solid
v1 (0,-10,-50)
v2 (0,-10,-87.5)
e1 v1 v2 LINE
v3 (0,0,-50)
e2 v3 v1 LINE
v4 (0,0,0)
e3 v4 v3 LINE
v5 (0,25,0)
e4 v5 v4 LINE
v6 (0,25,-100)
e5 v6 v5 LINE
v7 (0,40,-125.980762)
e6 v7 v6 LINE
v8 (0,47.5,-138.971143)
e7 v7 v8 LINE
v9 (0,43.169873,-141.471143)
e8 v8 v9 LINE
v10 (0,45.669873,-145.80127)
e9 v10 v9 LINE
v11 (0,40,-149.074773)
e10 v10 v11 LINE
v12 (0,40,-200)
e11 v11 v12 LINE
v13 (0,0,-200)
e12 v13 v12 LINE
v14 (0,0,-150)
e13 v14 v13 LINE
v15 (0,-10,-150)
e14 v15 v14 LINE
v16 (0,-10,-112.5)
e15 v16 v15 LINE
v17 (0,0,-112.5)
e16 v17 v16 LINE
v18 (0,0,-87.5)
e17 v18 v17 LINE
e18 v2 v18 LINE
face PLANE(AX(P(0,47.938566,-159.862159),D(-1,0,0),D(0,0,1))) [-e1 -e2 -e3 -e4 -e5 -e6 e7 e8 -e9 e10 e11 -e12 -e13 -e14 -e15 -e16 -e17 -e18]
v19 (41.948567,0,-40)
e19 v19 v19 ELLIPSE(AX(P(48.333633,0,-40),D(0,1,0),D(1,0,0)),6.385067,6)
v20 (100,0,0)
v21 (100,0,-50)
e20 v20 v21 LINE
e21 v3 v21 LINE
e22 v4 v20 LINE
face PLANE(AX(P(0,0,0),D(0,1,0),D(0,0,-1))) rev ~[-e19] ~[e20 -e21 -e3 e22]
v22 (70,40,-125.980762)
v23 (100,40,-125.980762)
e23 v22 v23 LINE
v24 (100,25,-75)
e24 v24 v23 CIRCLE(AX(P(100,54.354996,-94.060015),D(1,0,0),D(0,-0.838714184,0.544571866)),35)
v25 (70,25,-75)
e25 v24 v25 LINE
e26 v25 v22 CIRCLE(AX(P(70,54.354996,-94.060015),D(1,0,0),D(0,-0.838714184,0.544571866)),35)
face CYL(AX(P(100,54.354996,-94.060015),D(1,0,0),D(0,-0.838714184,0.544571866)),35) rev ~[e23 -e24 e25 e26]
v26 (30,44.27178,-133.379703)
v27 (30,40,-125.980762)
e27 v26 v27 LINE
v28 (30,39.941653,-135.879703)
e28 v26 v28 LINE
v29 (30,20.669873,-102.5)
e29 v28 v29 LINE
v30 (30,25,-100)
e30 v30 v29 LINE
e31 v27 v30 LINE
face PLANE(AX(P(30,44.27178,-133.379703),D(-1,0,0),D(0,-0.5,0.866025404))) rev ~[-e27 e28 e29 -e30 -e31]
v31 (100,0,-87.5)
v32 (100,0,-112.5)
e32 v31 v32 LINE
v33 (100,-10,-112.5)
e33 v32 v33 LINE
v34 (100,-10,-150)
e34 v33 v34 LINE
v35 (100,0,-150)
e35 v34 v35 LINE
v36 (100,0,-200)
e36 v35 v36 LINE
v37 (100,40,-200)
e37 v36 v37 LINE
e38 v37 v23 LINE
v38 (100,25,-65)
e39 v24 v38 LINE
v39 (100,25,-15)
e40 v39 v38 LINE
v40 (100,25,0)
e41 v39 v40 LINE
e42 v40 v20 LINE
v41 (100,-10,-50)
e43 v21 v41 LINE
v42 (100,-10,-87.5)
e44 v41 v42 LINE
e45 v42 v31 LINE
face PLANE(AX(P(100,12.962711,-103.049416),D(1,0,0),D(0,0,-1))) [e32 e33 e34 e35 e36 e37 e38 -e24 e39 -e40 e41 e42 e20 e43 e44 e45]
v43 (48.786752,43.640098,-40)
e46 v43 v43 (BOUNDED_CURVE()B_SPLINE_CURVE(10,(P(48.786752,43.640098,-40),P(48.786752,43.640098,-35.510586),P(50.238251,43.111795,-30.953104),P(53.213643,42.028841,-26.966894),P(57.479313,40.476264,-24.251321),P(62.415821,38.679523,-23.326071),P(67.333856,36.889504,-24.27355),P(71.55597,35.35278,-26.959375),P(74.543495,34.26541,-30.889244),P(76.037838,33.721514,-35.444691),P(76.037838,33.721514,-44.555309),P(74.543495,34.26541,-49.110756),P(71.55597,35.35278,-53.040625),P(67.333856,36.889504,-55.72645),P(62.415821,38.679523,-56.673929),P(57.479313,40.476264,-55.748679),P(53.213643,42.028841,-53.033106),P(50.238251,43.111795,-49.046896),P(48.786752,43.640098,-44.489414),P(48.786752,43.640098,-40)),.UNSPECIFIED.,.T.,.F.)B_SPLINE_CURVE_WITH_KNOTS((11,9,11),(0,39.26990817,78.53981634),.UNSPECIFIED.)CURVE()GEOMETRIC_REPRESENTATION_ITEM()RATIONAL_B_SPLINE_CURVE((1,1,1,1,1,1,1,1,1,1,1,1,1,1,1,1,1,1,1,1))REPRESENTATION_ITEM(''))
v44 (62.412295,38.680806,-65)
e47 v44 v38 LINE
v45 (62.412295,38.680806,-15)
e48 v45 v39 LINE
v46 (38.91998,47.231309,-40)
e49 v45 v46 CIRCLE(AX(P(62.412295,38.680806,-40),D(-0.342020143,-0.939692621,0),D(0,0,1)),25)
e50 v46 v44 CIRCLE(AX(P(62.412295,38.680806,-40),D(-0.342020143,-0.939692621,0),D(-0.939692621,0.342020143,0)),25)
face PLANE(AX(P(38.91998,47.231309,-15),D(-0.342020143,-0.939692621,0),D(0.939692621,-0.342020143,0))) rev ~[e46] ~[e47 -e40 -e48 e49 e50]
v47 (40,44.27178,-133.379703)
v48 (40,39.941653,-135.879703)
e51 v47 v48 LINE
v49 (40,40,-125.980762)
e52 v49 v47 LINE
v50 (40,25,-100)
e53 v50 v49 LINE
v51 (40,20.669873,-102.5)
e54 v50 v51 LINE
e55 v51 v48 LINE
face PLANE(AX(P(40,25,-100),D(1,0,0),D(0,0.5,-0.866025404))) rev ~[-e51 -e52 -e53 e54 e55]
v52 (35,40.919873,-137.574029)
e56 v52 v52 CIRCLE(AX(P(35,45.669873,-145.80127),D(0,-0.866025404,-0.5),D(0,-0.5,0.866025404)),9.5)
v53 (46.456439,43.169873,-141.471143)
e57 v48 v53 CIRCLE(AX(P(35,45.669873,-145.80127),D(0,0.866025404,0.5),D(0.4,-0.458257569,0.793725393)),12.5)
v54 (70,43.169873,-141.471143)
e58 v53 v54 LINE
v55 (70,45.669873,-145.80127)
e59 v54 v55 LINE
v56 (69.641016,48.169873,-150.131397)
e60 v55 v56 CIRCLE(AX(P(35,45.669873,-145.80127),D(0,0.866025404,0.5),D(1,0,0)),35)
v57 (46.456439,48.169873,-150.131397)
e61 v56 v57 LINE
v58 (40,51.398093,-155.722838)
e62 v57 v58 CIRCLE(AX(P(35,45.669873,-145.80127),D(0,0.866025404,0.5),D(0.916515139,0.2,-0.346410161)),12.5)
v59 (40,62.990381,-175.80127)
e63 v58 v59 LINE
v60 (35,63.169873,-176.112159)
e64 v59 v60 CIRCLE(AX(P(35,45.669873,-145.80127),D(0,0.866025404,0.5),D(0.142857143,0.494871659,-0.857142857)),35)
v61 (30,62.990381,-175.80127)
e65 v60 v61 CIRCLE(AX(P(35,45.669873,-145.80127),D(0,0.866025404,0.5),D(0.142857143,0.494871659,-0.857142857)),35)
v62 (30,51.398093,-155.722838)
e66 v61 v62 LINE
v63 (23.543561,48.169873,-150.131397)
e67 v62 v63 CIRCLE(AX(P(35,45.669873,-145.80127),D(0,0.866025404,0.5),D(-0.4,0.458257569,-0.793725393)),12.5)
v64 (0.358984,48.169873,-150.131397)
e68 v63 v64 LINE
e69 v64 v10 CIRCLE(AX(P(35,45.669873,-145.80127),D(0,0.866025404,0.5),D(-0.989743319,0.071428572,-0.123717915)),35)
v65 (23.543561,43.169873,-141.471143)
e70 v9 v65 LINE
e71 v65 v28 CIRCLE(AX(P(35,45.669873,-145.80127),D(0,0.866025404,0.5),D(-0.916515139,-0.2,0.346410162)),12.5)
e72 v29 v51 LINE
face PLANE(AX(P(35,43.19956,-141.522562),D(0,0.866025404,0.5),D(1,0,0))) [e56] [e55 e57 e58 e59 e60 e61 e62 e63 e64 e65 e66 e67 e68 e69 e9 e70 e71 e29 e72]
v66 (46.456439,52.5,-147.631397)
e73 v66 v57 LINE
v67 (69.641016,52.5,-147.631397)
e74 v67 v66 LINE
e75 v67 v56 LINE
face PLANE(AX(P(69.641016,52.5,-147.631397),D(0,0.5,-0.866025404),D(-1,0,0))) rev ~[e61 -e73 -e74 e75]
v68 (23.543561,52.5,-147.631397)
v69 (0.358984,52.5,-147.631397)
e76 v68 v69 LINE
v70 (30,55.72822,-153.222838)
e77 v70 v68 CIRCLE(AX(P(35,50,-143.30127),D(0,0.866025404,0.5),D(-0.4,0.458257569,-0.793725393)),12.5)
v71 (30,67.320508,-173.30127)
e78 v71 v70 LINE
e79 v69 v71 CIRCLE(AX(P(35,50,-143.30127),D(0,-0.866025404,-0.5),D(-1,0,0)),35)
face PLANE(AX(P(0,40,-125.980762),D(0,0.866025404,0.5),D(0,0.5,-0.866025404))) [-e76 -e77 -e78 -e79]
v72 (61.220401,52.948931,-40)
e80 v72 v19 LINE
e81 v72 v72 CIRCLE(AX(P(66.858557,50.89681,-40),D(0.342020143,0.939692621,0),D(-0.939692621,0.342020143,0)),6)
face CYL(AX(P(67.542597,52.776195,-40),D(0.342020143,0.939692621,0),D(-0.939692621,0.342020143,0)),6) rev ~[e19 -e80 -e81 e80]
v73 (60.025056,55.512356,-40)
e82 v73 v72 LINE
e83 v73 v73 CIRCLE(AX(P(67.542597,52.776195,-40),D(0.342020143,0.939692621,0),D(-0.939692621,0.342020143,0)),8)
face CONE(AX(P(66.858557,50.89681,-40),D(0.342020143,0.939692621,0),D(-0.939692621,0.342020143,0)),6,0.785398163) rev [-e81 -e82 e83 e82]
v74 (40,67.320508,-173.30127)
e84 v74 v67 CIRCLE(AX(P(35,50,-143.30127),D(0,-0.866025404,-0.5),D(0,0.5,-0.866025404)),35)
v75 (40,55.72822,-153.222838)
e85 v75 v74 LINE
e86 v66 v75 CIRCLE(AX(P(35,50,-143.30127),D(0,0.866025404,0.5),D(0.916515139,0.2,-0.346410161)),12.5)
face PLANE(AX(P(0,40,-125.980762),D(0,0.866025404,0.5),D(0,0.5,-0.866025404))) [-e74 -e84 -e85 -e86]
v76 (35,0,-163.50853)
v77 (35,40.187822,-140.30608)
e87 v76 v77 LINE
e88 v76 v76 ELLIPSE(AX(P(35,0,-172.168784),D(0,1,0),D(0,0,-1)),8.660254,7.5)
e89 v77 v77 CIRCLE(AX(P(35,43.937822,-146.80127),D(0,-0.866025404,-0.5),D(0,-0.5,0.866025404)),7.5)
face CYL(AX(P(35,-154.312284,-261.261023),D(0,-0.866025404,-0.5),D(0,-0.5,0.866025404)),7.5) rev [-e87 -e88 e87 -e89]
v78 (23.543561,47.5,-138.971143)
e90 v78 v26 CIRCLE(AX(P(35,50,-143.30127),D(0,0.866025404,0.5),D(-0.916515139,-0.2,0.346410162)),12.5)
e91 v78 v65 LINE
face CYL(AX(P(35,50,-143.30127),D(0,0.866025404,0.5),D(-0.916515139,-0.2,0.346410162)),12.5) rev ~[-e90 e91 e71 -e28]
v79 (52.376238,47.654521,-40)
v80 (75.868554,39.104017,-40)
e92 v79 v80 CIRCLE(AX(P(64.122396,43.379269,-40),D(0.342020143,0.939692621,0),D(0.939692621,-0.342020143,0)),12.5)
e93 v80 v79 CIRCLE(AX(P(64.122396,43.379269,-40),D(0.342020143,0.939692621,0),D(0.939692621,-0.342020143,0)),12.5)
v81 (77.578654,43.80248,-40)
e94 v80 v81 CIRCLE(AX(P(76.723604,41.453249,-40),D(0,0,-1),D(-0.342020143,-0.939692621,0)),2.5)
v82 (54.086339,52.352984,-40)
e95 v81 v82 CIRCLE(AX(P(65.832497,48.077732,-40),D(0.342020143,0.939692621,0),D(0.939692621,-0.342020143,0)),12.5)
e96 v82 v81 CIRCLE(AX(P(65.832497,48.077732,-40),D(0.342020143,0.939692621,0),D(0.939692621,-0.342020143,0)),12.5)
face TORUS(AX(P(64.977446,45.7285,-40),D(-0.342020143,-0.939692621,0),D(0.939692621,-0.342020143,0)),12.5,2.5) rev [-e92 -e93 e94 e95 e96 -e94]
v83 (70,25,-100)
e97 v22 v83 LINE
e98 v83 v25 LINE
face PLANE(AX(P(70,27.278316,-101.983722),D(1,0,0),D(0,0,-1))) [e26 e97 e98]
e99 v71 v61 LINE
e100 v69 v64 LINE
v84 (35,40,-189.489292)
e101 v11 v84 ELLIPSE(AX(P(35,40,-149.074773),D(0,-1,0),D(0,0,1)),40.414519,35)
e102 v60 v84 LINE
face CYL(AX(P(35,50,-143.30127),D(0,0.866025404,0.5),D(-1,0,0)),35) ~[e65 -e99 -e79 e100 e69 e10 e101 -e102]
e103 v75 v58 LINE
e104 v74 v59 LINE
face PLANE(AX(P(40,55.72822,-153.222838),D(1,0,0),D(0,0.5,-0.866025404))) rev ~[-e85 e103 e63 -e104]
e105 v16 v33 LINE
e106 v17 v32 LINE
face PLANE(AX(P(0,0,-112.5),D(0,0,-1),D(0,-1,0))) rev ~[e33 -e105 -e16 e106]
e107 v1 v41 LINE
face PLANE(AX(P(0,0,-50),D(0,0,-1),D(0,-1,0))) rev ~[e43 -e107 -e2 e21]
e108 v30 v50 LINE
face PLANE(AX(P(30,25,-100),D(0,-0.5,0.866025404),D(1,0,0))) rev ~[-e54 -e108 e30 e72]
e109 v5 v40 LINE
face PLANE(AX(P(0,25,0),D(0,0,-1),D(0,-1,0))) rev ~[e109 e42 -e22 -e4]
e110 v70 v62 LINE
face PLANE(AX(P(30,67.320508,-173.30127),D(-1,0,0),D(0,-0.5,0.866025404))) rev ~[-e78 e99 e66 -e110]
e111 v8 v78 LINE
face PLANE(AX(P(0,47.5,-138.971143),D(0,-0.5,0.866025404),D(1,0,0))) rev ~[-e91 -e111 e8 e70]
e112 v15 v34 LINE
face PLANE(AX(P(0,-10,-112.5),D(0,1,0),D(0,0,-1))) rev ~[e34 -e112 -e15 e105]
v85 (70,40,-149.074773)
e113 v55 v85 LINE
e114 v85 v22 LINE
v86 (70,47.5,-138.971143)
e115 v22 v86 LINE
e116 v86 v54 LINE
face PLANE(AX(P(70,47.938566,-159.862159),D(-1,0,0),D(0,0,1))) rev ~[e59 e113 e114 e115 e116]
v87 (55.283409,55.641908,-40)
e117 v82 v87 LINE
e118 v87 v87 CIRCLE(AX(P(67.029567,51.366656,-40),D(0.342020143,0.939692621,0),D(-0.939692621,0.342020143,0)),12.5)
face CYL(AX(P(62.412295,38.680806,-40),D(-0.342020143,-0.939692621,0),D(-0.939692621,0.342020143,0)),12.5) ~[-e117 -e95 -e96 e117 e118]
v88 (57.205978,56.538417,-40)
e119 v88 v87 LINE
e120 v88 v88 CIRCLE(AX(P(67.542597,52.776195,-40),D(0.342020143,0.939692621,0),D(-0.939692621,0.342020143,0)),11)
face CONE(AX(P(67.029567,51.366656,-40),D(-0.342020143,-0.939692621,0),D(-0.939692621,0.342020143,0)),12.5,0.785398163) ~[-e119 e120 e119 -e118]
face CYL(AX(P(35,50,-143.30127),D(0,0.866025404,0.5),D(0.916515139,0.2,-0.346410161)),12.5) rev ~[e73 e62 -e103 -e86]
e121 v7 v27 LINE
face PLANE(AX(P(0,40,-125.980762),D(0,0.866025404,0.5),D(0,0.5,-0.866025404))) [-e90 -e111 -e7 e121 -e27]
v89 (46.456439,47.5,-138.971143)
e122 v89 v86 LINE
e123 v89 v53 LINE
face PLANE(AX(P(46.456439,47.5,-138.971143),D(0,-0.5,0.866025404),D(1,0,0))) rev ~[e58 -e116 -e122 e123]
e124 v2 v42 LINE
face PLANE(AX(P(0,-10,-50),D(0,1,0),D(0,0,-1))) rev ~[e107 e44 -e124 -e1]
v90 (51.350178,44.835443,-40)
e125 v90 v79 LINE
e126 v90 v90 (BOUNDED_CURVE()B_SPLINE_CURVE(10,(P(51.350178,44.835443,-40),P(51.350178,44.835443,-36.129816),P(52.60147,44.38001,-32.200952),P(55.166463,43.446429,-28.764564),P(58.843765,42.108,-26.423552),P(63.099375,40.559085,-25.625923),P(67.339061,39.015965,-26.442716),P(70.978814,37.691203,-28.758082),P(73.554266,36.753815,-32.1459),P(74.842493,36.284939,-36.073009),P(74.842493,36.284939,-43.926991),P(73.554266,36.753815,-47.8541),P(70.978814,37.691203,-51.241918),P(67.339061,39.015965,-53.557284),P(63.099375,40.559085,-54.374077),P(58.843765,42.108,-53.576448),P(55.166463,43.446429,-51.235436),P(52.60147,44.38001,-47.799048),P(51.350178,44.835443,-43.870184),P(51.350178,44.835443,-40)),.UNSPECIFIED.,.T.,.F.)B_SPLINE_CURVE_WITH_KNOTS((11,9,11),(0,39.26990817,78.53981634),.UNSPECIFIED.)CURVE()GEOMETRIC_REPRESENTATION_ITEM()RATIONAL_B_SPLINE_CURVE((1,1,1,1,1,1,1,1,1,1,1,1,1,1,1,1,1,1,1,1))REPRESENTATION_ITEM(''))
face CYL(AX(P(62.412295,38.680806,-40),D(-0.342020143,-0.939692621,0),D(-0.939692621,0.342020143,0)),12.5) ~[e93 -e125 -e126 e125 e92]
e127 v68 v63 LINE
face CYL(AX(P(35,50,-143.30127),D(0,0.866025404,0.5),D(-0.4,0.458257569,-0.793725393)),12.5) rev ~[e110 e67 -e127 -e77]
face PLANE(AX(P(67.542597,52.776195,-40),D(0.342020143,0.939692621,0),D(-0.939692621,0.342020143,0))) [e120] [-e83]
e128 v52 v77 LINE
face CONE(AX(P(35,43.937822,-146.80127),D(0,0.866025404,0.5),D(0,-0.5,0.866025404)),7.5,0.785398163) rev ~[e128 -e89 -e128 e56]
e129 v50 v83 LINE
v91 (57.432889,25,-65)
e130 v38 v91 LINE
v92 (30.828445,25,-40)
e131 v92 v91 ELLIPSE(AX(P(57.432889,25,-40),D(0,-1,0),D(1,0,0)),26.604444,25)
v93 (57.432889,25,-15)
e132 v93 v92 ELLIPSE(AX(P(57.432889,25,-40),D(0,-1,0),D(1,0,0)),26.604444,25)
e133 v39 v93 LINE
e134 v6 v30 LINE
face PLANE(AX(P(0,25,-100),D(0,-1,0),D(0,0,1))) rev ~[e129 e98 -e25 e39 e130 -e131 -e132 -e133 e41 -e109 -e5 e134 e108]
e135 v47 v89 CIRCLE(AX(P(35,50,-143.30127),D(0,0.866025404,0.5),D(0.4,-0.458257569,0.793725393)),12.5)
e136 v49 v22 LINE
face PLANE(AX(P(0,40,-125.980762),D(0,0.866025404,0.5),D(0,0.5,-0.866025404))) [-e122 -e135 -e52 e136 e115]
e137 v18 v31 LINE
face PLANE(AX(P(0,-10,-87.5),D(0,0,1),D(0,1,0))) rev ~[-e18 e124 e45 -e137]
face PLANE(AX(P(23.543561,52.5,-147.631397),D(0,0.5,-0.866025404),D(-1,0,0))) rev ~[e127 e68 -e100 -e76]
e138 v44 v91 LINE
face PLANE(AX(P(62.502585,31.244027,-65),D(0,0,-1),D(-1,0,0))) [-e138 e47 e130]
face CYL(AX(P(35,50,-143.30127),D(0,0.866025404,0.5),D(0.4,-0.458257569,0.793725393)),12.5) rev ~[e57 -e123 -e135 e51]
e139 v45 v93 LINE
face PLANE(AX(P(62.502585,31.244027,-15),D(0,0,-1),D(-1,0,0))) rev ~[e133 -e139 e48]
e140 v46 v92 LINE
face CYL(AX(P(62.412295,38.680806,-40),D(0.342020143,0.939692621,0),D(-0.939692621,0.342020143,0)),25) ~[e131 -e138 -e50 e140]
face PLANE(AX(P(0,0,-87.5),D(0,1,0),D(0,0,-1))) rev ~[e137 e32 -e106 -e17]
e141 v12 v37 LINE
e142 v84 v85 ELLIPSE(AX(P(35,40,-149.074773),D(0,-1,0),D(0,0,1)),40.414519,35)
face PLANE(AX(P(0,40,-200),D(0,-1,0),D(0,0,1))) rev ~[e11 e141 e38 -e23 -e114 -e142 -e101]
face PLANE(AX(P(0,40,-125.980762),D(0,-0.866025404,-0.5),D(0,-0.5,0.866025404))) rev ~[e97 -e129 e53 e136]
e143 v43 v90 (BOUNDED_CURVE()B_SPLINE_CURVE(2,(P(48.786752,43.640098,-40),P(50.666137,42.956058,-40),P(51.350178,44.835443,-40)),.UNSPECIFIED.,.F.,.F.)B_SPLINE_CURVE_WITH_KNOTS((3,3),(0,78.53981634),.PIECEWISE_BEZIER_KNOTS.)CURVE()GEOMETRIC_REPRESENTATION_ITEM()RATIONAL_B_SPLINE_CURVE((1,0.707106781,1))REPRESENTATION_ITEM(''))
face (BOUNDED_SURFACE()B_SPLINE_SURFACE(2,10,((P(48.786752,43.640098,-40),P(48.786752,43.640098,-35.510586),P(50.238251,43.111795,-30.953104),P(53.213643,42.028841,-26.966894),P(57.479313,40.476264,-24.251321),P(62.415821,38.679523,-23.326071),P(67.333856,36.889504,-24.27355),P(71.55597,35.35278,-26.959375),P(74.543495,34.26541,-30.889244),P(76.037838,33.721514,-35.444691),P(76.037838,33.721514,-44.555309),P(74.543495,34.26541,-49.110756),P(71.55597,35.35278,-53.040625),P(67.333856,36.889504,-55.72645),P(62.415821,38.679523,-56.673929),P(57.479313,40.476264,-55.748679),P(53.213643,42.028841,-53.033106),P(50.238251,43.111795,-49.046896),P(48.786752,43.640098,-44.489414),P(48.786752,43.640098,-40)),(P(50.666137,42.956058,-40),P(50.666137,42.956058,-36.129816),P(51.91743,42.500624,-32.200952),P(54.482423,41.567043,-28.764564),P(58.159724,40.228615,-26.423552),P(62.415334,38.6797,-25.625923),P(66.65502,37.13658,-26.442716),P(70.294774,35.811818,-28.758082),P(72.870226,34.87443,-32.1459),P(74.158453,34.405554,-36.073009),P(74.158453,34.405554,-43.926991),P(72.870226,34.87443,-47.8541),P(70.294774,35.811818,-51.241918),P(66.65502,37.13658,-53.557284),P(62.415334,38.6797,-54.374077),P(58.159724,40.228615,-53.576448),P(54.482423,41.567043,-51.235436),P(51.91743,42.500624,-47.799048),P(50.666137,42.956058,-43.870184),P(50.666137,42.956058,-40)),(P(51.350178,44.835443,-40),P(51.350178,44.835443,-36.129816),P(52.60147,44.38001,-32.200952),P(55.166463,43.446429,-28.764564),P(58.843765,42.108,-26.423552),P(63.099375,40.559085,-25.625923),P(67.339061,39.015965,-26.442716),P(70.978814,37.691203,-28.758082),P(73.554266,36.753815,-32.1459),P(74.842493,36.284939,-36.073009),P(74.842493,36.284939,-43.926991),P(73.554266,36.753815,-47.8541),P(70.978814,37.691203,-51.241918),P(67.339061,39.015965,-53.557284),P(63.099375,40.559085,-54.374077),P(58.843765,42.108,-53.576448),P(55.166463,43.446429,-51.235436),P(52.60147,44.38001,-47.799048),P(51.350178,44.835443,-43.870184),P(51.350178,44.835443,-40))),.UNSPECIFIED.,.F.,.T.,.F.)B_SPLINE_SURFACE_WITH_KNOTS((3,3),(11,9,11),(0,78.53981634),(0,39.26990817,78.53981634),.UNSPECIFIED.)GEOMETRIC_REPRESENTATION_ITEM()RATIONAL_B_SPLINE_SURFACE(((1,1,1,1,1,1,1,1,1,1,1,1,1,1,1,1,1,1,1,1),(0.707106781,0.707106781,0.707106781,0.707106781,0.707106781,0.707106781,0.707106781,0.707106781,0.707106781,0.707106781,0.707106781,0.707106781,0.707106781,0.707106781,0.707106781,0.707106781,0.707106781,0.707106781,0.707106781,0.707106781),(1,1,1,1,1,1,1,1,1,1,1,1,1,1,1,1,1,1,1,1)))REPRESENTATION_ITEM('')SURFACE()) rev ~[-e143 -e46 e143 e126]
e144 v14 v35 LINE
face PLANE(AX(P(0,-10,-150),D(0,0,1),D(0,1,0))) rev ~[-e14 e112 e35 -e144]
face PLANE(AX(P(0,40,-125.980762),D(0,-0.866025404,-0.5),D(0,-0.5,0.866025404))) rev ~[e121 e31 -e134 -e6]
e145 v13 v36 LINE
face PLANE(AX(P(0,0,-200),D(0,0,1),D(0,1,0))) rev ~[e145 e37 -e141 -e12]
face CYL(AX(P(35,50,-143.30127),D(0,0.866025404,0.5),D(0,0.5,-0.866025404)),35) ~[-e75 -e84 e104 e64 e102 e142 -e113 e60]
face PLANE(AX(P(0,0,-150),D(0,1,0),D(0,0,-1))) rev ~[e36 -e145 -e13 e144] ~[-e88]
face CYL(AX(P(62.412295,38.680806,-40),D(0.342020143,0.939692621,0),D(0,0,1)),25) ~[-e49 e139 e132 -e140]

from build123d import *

# Parameters (mm, degrees)
BOSS_EXTRUDE1_DEPTH     = 100
CUT_EXTRUDE1_DEPTH      = 30
BOSS_EXTRUDE2_START     = -15
BOSS_EXTRUDE2_DEPTH     = 50
CUT_EXTRUDE2_REACH      = 226.87
SKETCH5_R               = 12.5
BOSS_EXTRUDE4_DEPTH     = 15
SKETCH7_R               = 6
CUT_EXTRUDE4_DEPTH      = 228.547988513
FILLET1_R               = 2
CHAMFER1_SIZE           = 2
CHAMFER2_SIZE           = 1.5
BOSS_EXTRUDE5_DEPTH     = 70
CUT_EXTRUDE5_REACH      = 232.227
CUT_EXTRUDE6_DEPTH      = 5
CUT_EXTRUDE7_DEPTH      = 230.919504684
CUT_EXTRUDE7_DEPTH_BACK = 230.919504684
SKETCH17_R              = 7.5
CHAMFER3_SIZE           = 2


with BuildPart() as part:
    # Sketch1 → Boss-Extrude1 (new body)
    with BuildSketch(Plane(origin=(0, 0, 0), x_dir=(0, 0, -1), z_dir=(1, 0, 0))):
        Polygon((0, 0), (50, 0), (50, -10), (87.5, -10), (87.5, 0), (112.5, 0), (112.5, -10), (150, -10), (150, 0), (200, 0), (200, 40), (125.980762114, 40), (100, 25), (0, 25), align=None)
    extrude(amount=BOSS_EXTRUDE1_DEPTH)

    # Sketch2 → Cut-Extrude1 (cut)
    with BuildSketch(Plane(origin=(100, 0, 0), x_dir=(0, 0, -1), z_dir=(1, 0, 0))):
        with BuildLine():
            Line((100, 25), (75, 25))
            ThreePointArc((75, 25), (103.939266476, 20.77821286), (125.980762114, 40))
            Line((125.980762114, 40), (100, 25))
        make_face()
    extrude(amount=-CUT_EXTRUDE1_DEPTH, mode=Mode.SUBTRACT)

    # Sketch3 → Boss-Extrude2 (add)
    with BuildSketch(Plane.XY.offset(BOSS_EXTRUDE2_START)):
        Polygon((100, 25), (30.828444789, 25), (38.919979649, 47.231309316), align=None)
    extrude(amount=-BOSS_EXTRUDE2_DEPTH)

    # Cut-Extrude2: up to this plane
    cut_extrude2_end = Plane(origin=(100, 25, 0), z_dir=(0, -1, 0))
    # Sketch4 → Cut-Extrude2 (cut, up to the surface)
    with BuildSketch(Plane(origin=(19.732622965, 54.214936023, 0), x_dir=(0.9396926207859106, -0.3420201433256628, 0), z_dir=(0.34202014332566283, 0.9396926207859106, 0)), mode=Mode.PRIVATE) as cut_extrude2_sk1:
        with BuildLine():
            ThreePointArc((20.418758495, 40), (27.741088966, 57.67766953), (45.418758495, 65))
            Line((45.418758495, 65), (20.418758495, 65))
            Line((20.418758495, 65), (20.418758495, 40))
        make_face()
    cut_extrude2_tool1 = split(extrude(cut_extrude2_sk1.sketch, amount=-CUT_EXTRUDE2_REACH, mode=Mode.PRIVATE), bisect_by=cut_extrude2_end, keep=Keep.BOTH, mode=Mode.PRIVATE)
    add(cut_extrude2_tool1.solids().sort_by_distance((44.16741, 45.321401, -59.415802))[0], mode=Mode.SUBTRACT)
    # Sketch4 → Cut-Extrude2 (cut, up to the surface)
    with BuildSketch(Plane(origin=(19.732622965, 54.214936023, 0), x_dir=(0.9396926207859106, -0.3420201433256628, 0), z_dir=(0.34202014332566283, 0.9396926207859106, 0)), mode=Mode.PRIVATE) as cut_extrude2_sk2:
        with BuildLine():
            ThreePointArc((45.418758495, 15), (27.741088966, 22.32233047), (20.418758495, 40))
            Line((20.418758495, 40), (20.418758495, 15))
            Line((20.418758495, 15), (45.418758495, 15))
        make_face()
    cut_extrude2_tool2 = split(extrude(cut_extrude2_sk2.sketch, amount=-CUT_EXTRUDE2_REACH, mode=Mode.PRIVATE), bisect_by=cut_extrude2_end, keep=Keep.BOTH, mode=Mode.PRIVATE)
    add(cut_extrude2_tool2.solids().sort_by_distance((44.16741, 45.321401, -20.584198))[0], mode=Mode.SUBTRACT)

    # Sketch5 → Boss-Extrude4 (add)
    with BuildSketch(Plane(origin=(19.732622965, 54.214936023, 0), x_dir=(0.9396926207859106, -0.3420201433256628, 0), z_dir=(0.34202014332566283, 0.9396926207859106, 0))):
        with Locations(Location((45.418758495, 40, 0), (0, 0, 180))):
            Circle(SKETCH5_R)
    extrude(amount=BOSS_EXTRUDE4_DEPTH)

    # Sketch7 → Cut-Extrude4 (cut, through all)
    with BuildSketch(Plane(origin=(24.862925115, 68.310325335, 0), x_dir=(0.9396926207859105, -0.3420201433256629, 0), z_dir=(0.34202014332566294, 0.9396926207859106, 0))):
        with Locations(Location((45.418758495, 40, 0), (0, 0, 180))):
            Circle(SKETCH7_R)
    extrude(amount=-CUT_EXTRUDE4_DEPTH, mode=Mode.SUBTRACT)

    # Fillet1
    fillet1_edges = [part.edges().sort_by_distance(p)[0] for p in [
        (74.158452928, 34.405553941, -40),
    ]]
    fillet(fillet1_edges, radius=FILLET1_R)

    # Chamfer1
    chamfer1_edges = [part.edges().sort_by_distance(p)[0] for p in [
        (73.180753043, 50.724074185, -40),
    ]]
    chamfer(chamfer1_edges, length=CHAMFER1_SIZE)

    # Sketch11 → Cut-Revolve1 (revolve, cut)
    with BuildSketch(Plane(origin=(42.679672203, -15.53413029, 0), x_dir=(0.34202014332566294, 0.9396926207859105, 0), z_dir=(0.9396926207859105, -0.342020143325663, 0)), mode=Mode.PRIVATE) as cut_revolve1_sk:
        with BuildLine():
            Line((67.694329852, -27.5), (62.694329852, -27.5))
            ThreePointArc((62.694329852, -27.5), (65.194329852, -30), (67.694329852, -27.5))
        make_face()
    revolve(cut_revolve1_sk.sketch.rotate(Axis((43.396560119, -13.564496931, -40), (0.34202014332566283, 0.9396926207859105, 0)), 90), axis=Axis((43.396560119, -13.564496931, -40), (0.34202014332566283, 0.9396926207859105, 0)), mode=Mode.SUBTRACT)

    # Chamfer2
    chamfer2_edges = [part.edges().sort_by_distance(p)[0] for p in [
        (79.288755078, 48.500943253, -40),
    ]]
    chamfer(chamfer2_edges, length=CHAMFER2_SIZE)

    # Sketch13 → Boss-Extrude5 (add)
    with BuildSketch(Plane.ZY):
        Polygon((-125.980762114, 40), (-173.612159322, 67.5), (-189.489291724, 40), align=None)
    extrude(amount=-BOSS_EXTRUDE5_DEPTH)

    # Cut-Extrude5: up to this plane
    cut_extrude5_end = Plane(origin=(100, 40, -200), z_dir=(0, -1, 0))
    # Sketch14 → Cut-Extrude5 (cut, up to the surface)
    with BuildSketch(Plane(origin=(0, -24.551270189, -14.174682453), x_dir=(1, 0, 0), z_dir=(0, 0.8660254037844378, 0.5000000000000016)), mode=Mode.PRIVATE) as cut_extrude5_sk1:
        with BuildLine():
            Line((70, 184.102540378), (35, 184.102540378))
            ThreePointArc((35, 184.102540378), (59.748737342, 173.85127772), (70, 149.102540378))
            Line((70, 149.102540378), (70, 184.102540378))
        make_face()
    cut_extrude5_tool1 = split(extrude(cut_extrude5_sk1.sketch, amount=-CUT_EXTRUDE5_REACH, mode=Mode.PRIVATE), bisect_by=cut_extrude5_end, keep=Keep.BOTH, mode=Mode.PRIVATE)
    add(cut_extrude5_tool1.solids().sort_by_distance((62.182122, 63.591061, -166.841678))[0], mode=Mode.SUBTRACT)
    # Sketch14 → Cut-Extrude5 (cut, up to the surface)
    with BuildSketch(Plane(origin=(0, -24.551270189, -14.174682453), x_dir=(1, 0, 0), z_dir=(0, 0.8660254037844378, 0.5000000000000016)), mode=Mode.PRIVATE) as cut_extrude5_sk2:
        with BuildLine():
            Line((0, 184.102540378), (0, 149.102540378))
            ThreePointArc((0, 149.102540378), (10.251262658, 173.85127772), (35, 184.102540378))
            Line((35, 184.102540378), (0, 184.102540378))
        make_face()
    cut_extrude5_tool2 = split(extrude(cut_extrude5_sk2.sketch, amount=-CUT_EXTRUDE5_REACH, mode=Mode.PRIVATE), bisect_by=cut_extrude5_end, keep=Keep.BOTH, mode=Mode.PRIVATE)
    add(cut_extrude5_tool2.solids().sort_by_distance((7.817878, 63.591061, -166.841678))[0], mode=Mode.SUBTRACT)

    # Sketch15 → Cut-Extrude6 (cut)
    with BuildSketch(Plane(origin=(0, -24.551270189, -14.174682453), x_dir=(1, 0, 0), z_dir=(0, 0.8660254037844378, 0.5000000000000016))):
        with BuildLine():
            ThreePointArc((40, 183.74355653), (35, 184.102540378), (30, 183.74355653))
            Line((30, 183.74355653), (30, 160.558979616))
            ThreePointArc((30, 160.558979616), (26.161165235, 157.941375143), (23.543560763, 154.102540378))
            Line((23.543560763, 154.102540378), (0.358983849, 154.102540378))
            ThreePointArc((0.358983849, 154.102540378), (0.08986132, 151.608975566), (0, 149.102540378))
            Line((0, 149.102540378), (0, 144.102540378))
            Line((0, 144.102540378), (23.543560763, 144.102540378))
            ThreePointArc((23.543560763, 144.102540378), (26.161165235, 140.263705614), (30, 137.646101141))
            Line((30, 137.646101141), (30, 99.102540378))
            Line((30, 99.102540378), (40, 99.102540378))
            Line((40, 99.102540378), (40, 137.646101141))
            ThreePointArc((40, 137.646101141), (43.838834765, 140.263705614), (46.456439237, 144.102540378))
            Line((46.456439237, 144.102540378), (70, 144.102540378))
            Line((70, 144.102540378), (70, 149.102540378))
            ThreePointArc((70, 149.102540378), (69.91013868, 151.608975566), (69.641016151, 154.102540378))
            Line((69.641016151, 154.102540378), (46.456439237, 154.102540378))
            ThreePointArc((46.456439237, 154.102540378), (43.838834765, 157.941375143), (40, 160.558979616))
            Line((40, 160.558979616), (40, 183.74355653))
        make_face()
    extrude(amount=-CUT_EXTRUDE6_DEPTH, mode=Mode.SUBTRACT)

    # Sketch17 → Cut-Extrude7 (cut, two sides: drawn at the far end of the back side and taken through both)
    with BuildSketch(Plane(origin=(0, -28.881397208, -16.674682453), x_dir=(1, 0, 0), z_dir=(0, 0.8660254037844378, 0.5000000000000016)).offset(-CUT_EXTRUDE7_DEPTH_BACK)):
        with Locations(Location((35, 149.102540378, 0), (0, 0, 270))):
            Circle(SKETCH17_R)
    extrude(amount=CUT_EXTRUDE7_DEPTH + CUT_EXTRUDE7_DEPTH_BACK, mode=Mode.SUBTRACT)

    # Chamfer3
    chamfer3_edges = [part.edges().sort_by_distance(p)[0] for p in [
        (35, 49.419872981, -152.296460718),
    ]]
    chamfer(chamfer3_edges, length=CHAMFER3_SIZE)


solid = part.part
